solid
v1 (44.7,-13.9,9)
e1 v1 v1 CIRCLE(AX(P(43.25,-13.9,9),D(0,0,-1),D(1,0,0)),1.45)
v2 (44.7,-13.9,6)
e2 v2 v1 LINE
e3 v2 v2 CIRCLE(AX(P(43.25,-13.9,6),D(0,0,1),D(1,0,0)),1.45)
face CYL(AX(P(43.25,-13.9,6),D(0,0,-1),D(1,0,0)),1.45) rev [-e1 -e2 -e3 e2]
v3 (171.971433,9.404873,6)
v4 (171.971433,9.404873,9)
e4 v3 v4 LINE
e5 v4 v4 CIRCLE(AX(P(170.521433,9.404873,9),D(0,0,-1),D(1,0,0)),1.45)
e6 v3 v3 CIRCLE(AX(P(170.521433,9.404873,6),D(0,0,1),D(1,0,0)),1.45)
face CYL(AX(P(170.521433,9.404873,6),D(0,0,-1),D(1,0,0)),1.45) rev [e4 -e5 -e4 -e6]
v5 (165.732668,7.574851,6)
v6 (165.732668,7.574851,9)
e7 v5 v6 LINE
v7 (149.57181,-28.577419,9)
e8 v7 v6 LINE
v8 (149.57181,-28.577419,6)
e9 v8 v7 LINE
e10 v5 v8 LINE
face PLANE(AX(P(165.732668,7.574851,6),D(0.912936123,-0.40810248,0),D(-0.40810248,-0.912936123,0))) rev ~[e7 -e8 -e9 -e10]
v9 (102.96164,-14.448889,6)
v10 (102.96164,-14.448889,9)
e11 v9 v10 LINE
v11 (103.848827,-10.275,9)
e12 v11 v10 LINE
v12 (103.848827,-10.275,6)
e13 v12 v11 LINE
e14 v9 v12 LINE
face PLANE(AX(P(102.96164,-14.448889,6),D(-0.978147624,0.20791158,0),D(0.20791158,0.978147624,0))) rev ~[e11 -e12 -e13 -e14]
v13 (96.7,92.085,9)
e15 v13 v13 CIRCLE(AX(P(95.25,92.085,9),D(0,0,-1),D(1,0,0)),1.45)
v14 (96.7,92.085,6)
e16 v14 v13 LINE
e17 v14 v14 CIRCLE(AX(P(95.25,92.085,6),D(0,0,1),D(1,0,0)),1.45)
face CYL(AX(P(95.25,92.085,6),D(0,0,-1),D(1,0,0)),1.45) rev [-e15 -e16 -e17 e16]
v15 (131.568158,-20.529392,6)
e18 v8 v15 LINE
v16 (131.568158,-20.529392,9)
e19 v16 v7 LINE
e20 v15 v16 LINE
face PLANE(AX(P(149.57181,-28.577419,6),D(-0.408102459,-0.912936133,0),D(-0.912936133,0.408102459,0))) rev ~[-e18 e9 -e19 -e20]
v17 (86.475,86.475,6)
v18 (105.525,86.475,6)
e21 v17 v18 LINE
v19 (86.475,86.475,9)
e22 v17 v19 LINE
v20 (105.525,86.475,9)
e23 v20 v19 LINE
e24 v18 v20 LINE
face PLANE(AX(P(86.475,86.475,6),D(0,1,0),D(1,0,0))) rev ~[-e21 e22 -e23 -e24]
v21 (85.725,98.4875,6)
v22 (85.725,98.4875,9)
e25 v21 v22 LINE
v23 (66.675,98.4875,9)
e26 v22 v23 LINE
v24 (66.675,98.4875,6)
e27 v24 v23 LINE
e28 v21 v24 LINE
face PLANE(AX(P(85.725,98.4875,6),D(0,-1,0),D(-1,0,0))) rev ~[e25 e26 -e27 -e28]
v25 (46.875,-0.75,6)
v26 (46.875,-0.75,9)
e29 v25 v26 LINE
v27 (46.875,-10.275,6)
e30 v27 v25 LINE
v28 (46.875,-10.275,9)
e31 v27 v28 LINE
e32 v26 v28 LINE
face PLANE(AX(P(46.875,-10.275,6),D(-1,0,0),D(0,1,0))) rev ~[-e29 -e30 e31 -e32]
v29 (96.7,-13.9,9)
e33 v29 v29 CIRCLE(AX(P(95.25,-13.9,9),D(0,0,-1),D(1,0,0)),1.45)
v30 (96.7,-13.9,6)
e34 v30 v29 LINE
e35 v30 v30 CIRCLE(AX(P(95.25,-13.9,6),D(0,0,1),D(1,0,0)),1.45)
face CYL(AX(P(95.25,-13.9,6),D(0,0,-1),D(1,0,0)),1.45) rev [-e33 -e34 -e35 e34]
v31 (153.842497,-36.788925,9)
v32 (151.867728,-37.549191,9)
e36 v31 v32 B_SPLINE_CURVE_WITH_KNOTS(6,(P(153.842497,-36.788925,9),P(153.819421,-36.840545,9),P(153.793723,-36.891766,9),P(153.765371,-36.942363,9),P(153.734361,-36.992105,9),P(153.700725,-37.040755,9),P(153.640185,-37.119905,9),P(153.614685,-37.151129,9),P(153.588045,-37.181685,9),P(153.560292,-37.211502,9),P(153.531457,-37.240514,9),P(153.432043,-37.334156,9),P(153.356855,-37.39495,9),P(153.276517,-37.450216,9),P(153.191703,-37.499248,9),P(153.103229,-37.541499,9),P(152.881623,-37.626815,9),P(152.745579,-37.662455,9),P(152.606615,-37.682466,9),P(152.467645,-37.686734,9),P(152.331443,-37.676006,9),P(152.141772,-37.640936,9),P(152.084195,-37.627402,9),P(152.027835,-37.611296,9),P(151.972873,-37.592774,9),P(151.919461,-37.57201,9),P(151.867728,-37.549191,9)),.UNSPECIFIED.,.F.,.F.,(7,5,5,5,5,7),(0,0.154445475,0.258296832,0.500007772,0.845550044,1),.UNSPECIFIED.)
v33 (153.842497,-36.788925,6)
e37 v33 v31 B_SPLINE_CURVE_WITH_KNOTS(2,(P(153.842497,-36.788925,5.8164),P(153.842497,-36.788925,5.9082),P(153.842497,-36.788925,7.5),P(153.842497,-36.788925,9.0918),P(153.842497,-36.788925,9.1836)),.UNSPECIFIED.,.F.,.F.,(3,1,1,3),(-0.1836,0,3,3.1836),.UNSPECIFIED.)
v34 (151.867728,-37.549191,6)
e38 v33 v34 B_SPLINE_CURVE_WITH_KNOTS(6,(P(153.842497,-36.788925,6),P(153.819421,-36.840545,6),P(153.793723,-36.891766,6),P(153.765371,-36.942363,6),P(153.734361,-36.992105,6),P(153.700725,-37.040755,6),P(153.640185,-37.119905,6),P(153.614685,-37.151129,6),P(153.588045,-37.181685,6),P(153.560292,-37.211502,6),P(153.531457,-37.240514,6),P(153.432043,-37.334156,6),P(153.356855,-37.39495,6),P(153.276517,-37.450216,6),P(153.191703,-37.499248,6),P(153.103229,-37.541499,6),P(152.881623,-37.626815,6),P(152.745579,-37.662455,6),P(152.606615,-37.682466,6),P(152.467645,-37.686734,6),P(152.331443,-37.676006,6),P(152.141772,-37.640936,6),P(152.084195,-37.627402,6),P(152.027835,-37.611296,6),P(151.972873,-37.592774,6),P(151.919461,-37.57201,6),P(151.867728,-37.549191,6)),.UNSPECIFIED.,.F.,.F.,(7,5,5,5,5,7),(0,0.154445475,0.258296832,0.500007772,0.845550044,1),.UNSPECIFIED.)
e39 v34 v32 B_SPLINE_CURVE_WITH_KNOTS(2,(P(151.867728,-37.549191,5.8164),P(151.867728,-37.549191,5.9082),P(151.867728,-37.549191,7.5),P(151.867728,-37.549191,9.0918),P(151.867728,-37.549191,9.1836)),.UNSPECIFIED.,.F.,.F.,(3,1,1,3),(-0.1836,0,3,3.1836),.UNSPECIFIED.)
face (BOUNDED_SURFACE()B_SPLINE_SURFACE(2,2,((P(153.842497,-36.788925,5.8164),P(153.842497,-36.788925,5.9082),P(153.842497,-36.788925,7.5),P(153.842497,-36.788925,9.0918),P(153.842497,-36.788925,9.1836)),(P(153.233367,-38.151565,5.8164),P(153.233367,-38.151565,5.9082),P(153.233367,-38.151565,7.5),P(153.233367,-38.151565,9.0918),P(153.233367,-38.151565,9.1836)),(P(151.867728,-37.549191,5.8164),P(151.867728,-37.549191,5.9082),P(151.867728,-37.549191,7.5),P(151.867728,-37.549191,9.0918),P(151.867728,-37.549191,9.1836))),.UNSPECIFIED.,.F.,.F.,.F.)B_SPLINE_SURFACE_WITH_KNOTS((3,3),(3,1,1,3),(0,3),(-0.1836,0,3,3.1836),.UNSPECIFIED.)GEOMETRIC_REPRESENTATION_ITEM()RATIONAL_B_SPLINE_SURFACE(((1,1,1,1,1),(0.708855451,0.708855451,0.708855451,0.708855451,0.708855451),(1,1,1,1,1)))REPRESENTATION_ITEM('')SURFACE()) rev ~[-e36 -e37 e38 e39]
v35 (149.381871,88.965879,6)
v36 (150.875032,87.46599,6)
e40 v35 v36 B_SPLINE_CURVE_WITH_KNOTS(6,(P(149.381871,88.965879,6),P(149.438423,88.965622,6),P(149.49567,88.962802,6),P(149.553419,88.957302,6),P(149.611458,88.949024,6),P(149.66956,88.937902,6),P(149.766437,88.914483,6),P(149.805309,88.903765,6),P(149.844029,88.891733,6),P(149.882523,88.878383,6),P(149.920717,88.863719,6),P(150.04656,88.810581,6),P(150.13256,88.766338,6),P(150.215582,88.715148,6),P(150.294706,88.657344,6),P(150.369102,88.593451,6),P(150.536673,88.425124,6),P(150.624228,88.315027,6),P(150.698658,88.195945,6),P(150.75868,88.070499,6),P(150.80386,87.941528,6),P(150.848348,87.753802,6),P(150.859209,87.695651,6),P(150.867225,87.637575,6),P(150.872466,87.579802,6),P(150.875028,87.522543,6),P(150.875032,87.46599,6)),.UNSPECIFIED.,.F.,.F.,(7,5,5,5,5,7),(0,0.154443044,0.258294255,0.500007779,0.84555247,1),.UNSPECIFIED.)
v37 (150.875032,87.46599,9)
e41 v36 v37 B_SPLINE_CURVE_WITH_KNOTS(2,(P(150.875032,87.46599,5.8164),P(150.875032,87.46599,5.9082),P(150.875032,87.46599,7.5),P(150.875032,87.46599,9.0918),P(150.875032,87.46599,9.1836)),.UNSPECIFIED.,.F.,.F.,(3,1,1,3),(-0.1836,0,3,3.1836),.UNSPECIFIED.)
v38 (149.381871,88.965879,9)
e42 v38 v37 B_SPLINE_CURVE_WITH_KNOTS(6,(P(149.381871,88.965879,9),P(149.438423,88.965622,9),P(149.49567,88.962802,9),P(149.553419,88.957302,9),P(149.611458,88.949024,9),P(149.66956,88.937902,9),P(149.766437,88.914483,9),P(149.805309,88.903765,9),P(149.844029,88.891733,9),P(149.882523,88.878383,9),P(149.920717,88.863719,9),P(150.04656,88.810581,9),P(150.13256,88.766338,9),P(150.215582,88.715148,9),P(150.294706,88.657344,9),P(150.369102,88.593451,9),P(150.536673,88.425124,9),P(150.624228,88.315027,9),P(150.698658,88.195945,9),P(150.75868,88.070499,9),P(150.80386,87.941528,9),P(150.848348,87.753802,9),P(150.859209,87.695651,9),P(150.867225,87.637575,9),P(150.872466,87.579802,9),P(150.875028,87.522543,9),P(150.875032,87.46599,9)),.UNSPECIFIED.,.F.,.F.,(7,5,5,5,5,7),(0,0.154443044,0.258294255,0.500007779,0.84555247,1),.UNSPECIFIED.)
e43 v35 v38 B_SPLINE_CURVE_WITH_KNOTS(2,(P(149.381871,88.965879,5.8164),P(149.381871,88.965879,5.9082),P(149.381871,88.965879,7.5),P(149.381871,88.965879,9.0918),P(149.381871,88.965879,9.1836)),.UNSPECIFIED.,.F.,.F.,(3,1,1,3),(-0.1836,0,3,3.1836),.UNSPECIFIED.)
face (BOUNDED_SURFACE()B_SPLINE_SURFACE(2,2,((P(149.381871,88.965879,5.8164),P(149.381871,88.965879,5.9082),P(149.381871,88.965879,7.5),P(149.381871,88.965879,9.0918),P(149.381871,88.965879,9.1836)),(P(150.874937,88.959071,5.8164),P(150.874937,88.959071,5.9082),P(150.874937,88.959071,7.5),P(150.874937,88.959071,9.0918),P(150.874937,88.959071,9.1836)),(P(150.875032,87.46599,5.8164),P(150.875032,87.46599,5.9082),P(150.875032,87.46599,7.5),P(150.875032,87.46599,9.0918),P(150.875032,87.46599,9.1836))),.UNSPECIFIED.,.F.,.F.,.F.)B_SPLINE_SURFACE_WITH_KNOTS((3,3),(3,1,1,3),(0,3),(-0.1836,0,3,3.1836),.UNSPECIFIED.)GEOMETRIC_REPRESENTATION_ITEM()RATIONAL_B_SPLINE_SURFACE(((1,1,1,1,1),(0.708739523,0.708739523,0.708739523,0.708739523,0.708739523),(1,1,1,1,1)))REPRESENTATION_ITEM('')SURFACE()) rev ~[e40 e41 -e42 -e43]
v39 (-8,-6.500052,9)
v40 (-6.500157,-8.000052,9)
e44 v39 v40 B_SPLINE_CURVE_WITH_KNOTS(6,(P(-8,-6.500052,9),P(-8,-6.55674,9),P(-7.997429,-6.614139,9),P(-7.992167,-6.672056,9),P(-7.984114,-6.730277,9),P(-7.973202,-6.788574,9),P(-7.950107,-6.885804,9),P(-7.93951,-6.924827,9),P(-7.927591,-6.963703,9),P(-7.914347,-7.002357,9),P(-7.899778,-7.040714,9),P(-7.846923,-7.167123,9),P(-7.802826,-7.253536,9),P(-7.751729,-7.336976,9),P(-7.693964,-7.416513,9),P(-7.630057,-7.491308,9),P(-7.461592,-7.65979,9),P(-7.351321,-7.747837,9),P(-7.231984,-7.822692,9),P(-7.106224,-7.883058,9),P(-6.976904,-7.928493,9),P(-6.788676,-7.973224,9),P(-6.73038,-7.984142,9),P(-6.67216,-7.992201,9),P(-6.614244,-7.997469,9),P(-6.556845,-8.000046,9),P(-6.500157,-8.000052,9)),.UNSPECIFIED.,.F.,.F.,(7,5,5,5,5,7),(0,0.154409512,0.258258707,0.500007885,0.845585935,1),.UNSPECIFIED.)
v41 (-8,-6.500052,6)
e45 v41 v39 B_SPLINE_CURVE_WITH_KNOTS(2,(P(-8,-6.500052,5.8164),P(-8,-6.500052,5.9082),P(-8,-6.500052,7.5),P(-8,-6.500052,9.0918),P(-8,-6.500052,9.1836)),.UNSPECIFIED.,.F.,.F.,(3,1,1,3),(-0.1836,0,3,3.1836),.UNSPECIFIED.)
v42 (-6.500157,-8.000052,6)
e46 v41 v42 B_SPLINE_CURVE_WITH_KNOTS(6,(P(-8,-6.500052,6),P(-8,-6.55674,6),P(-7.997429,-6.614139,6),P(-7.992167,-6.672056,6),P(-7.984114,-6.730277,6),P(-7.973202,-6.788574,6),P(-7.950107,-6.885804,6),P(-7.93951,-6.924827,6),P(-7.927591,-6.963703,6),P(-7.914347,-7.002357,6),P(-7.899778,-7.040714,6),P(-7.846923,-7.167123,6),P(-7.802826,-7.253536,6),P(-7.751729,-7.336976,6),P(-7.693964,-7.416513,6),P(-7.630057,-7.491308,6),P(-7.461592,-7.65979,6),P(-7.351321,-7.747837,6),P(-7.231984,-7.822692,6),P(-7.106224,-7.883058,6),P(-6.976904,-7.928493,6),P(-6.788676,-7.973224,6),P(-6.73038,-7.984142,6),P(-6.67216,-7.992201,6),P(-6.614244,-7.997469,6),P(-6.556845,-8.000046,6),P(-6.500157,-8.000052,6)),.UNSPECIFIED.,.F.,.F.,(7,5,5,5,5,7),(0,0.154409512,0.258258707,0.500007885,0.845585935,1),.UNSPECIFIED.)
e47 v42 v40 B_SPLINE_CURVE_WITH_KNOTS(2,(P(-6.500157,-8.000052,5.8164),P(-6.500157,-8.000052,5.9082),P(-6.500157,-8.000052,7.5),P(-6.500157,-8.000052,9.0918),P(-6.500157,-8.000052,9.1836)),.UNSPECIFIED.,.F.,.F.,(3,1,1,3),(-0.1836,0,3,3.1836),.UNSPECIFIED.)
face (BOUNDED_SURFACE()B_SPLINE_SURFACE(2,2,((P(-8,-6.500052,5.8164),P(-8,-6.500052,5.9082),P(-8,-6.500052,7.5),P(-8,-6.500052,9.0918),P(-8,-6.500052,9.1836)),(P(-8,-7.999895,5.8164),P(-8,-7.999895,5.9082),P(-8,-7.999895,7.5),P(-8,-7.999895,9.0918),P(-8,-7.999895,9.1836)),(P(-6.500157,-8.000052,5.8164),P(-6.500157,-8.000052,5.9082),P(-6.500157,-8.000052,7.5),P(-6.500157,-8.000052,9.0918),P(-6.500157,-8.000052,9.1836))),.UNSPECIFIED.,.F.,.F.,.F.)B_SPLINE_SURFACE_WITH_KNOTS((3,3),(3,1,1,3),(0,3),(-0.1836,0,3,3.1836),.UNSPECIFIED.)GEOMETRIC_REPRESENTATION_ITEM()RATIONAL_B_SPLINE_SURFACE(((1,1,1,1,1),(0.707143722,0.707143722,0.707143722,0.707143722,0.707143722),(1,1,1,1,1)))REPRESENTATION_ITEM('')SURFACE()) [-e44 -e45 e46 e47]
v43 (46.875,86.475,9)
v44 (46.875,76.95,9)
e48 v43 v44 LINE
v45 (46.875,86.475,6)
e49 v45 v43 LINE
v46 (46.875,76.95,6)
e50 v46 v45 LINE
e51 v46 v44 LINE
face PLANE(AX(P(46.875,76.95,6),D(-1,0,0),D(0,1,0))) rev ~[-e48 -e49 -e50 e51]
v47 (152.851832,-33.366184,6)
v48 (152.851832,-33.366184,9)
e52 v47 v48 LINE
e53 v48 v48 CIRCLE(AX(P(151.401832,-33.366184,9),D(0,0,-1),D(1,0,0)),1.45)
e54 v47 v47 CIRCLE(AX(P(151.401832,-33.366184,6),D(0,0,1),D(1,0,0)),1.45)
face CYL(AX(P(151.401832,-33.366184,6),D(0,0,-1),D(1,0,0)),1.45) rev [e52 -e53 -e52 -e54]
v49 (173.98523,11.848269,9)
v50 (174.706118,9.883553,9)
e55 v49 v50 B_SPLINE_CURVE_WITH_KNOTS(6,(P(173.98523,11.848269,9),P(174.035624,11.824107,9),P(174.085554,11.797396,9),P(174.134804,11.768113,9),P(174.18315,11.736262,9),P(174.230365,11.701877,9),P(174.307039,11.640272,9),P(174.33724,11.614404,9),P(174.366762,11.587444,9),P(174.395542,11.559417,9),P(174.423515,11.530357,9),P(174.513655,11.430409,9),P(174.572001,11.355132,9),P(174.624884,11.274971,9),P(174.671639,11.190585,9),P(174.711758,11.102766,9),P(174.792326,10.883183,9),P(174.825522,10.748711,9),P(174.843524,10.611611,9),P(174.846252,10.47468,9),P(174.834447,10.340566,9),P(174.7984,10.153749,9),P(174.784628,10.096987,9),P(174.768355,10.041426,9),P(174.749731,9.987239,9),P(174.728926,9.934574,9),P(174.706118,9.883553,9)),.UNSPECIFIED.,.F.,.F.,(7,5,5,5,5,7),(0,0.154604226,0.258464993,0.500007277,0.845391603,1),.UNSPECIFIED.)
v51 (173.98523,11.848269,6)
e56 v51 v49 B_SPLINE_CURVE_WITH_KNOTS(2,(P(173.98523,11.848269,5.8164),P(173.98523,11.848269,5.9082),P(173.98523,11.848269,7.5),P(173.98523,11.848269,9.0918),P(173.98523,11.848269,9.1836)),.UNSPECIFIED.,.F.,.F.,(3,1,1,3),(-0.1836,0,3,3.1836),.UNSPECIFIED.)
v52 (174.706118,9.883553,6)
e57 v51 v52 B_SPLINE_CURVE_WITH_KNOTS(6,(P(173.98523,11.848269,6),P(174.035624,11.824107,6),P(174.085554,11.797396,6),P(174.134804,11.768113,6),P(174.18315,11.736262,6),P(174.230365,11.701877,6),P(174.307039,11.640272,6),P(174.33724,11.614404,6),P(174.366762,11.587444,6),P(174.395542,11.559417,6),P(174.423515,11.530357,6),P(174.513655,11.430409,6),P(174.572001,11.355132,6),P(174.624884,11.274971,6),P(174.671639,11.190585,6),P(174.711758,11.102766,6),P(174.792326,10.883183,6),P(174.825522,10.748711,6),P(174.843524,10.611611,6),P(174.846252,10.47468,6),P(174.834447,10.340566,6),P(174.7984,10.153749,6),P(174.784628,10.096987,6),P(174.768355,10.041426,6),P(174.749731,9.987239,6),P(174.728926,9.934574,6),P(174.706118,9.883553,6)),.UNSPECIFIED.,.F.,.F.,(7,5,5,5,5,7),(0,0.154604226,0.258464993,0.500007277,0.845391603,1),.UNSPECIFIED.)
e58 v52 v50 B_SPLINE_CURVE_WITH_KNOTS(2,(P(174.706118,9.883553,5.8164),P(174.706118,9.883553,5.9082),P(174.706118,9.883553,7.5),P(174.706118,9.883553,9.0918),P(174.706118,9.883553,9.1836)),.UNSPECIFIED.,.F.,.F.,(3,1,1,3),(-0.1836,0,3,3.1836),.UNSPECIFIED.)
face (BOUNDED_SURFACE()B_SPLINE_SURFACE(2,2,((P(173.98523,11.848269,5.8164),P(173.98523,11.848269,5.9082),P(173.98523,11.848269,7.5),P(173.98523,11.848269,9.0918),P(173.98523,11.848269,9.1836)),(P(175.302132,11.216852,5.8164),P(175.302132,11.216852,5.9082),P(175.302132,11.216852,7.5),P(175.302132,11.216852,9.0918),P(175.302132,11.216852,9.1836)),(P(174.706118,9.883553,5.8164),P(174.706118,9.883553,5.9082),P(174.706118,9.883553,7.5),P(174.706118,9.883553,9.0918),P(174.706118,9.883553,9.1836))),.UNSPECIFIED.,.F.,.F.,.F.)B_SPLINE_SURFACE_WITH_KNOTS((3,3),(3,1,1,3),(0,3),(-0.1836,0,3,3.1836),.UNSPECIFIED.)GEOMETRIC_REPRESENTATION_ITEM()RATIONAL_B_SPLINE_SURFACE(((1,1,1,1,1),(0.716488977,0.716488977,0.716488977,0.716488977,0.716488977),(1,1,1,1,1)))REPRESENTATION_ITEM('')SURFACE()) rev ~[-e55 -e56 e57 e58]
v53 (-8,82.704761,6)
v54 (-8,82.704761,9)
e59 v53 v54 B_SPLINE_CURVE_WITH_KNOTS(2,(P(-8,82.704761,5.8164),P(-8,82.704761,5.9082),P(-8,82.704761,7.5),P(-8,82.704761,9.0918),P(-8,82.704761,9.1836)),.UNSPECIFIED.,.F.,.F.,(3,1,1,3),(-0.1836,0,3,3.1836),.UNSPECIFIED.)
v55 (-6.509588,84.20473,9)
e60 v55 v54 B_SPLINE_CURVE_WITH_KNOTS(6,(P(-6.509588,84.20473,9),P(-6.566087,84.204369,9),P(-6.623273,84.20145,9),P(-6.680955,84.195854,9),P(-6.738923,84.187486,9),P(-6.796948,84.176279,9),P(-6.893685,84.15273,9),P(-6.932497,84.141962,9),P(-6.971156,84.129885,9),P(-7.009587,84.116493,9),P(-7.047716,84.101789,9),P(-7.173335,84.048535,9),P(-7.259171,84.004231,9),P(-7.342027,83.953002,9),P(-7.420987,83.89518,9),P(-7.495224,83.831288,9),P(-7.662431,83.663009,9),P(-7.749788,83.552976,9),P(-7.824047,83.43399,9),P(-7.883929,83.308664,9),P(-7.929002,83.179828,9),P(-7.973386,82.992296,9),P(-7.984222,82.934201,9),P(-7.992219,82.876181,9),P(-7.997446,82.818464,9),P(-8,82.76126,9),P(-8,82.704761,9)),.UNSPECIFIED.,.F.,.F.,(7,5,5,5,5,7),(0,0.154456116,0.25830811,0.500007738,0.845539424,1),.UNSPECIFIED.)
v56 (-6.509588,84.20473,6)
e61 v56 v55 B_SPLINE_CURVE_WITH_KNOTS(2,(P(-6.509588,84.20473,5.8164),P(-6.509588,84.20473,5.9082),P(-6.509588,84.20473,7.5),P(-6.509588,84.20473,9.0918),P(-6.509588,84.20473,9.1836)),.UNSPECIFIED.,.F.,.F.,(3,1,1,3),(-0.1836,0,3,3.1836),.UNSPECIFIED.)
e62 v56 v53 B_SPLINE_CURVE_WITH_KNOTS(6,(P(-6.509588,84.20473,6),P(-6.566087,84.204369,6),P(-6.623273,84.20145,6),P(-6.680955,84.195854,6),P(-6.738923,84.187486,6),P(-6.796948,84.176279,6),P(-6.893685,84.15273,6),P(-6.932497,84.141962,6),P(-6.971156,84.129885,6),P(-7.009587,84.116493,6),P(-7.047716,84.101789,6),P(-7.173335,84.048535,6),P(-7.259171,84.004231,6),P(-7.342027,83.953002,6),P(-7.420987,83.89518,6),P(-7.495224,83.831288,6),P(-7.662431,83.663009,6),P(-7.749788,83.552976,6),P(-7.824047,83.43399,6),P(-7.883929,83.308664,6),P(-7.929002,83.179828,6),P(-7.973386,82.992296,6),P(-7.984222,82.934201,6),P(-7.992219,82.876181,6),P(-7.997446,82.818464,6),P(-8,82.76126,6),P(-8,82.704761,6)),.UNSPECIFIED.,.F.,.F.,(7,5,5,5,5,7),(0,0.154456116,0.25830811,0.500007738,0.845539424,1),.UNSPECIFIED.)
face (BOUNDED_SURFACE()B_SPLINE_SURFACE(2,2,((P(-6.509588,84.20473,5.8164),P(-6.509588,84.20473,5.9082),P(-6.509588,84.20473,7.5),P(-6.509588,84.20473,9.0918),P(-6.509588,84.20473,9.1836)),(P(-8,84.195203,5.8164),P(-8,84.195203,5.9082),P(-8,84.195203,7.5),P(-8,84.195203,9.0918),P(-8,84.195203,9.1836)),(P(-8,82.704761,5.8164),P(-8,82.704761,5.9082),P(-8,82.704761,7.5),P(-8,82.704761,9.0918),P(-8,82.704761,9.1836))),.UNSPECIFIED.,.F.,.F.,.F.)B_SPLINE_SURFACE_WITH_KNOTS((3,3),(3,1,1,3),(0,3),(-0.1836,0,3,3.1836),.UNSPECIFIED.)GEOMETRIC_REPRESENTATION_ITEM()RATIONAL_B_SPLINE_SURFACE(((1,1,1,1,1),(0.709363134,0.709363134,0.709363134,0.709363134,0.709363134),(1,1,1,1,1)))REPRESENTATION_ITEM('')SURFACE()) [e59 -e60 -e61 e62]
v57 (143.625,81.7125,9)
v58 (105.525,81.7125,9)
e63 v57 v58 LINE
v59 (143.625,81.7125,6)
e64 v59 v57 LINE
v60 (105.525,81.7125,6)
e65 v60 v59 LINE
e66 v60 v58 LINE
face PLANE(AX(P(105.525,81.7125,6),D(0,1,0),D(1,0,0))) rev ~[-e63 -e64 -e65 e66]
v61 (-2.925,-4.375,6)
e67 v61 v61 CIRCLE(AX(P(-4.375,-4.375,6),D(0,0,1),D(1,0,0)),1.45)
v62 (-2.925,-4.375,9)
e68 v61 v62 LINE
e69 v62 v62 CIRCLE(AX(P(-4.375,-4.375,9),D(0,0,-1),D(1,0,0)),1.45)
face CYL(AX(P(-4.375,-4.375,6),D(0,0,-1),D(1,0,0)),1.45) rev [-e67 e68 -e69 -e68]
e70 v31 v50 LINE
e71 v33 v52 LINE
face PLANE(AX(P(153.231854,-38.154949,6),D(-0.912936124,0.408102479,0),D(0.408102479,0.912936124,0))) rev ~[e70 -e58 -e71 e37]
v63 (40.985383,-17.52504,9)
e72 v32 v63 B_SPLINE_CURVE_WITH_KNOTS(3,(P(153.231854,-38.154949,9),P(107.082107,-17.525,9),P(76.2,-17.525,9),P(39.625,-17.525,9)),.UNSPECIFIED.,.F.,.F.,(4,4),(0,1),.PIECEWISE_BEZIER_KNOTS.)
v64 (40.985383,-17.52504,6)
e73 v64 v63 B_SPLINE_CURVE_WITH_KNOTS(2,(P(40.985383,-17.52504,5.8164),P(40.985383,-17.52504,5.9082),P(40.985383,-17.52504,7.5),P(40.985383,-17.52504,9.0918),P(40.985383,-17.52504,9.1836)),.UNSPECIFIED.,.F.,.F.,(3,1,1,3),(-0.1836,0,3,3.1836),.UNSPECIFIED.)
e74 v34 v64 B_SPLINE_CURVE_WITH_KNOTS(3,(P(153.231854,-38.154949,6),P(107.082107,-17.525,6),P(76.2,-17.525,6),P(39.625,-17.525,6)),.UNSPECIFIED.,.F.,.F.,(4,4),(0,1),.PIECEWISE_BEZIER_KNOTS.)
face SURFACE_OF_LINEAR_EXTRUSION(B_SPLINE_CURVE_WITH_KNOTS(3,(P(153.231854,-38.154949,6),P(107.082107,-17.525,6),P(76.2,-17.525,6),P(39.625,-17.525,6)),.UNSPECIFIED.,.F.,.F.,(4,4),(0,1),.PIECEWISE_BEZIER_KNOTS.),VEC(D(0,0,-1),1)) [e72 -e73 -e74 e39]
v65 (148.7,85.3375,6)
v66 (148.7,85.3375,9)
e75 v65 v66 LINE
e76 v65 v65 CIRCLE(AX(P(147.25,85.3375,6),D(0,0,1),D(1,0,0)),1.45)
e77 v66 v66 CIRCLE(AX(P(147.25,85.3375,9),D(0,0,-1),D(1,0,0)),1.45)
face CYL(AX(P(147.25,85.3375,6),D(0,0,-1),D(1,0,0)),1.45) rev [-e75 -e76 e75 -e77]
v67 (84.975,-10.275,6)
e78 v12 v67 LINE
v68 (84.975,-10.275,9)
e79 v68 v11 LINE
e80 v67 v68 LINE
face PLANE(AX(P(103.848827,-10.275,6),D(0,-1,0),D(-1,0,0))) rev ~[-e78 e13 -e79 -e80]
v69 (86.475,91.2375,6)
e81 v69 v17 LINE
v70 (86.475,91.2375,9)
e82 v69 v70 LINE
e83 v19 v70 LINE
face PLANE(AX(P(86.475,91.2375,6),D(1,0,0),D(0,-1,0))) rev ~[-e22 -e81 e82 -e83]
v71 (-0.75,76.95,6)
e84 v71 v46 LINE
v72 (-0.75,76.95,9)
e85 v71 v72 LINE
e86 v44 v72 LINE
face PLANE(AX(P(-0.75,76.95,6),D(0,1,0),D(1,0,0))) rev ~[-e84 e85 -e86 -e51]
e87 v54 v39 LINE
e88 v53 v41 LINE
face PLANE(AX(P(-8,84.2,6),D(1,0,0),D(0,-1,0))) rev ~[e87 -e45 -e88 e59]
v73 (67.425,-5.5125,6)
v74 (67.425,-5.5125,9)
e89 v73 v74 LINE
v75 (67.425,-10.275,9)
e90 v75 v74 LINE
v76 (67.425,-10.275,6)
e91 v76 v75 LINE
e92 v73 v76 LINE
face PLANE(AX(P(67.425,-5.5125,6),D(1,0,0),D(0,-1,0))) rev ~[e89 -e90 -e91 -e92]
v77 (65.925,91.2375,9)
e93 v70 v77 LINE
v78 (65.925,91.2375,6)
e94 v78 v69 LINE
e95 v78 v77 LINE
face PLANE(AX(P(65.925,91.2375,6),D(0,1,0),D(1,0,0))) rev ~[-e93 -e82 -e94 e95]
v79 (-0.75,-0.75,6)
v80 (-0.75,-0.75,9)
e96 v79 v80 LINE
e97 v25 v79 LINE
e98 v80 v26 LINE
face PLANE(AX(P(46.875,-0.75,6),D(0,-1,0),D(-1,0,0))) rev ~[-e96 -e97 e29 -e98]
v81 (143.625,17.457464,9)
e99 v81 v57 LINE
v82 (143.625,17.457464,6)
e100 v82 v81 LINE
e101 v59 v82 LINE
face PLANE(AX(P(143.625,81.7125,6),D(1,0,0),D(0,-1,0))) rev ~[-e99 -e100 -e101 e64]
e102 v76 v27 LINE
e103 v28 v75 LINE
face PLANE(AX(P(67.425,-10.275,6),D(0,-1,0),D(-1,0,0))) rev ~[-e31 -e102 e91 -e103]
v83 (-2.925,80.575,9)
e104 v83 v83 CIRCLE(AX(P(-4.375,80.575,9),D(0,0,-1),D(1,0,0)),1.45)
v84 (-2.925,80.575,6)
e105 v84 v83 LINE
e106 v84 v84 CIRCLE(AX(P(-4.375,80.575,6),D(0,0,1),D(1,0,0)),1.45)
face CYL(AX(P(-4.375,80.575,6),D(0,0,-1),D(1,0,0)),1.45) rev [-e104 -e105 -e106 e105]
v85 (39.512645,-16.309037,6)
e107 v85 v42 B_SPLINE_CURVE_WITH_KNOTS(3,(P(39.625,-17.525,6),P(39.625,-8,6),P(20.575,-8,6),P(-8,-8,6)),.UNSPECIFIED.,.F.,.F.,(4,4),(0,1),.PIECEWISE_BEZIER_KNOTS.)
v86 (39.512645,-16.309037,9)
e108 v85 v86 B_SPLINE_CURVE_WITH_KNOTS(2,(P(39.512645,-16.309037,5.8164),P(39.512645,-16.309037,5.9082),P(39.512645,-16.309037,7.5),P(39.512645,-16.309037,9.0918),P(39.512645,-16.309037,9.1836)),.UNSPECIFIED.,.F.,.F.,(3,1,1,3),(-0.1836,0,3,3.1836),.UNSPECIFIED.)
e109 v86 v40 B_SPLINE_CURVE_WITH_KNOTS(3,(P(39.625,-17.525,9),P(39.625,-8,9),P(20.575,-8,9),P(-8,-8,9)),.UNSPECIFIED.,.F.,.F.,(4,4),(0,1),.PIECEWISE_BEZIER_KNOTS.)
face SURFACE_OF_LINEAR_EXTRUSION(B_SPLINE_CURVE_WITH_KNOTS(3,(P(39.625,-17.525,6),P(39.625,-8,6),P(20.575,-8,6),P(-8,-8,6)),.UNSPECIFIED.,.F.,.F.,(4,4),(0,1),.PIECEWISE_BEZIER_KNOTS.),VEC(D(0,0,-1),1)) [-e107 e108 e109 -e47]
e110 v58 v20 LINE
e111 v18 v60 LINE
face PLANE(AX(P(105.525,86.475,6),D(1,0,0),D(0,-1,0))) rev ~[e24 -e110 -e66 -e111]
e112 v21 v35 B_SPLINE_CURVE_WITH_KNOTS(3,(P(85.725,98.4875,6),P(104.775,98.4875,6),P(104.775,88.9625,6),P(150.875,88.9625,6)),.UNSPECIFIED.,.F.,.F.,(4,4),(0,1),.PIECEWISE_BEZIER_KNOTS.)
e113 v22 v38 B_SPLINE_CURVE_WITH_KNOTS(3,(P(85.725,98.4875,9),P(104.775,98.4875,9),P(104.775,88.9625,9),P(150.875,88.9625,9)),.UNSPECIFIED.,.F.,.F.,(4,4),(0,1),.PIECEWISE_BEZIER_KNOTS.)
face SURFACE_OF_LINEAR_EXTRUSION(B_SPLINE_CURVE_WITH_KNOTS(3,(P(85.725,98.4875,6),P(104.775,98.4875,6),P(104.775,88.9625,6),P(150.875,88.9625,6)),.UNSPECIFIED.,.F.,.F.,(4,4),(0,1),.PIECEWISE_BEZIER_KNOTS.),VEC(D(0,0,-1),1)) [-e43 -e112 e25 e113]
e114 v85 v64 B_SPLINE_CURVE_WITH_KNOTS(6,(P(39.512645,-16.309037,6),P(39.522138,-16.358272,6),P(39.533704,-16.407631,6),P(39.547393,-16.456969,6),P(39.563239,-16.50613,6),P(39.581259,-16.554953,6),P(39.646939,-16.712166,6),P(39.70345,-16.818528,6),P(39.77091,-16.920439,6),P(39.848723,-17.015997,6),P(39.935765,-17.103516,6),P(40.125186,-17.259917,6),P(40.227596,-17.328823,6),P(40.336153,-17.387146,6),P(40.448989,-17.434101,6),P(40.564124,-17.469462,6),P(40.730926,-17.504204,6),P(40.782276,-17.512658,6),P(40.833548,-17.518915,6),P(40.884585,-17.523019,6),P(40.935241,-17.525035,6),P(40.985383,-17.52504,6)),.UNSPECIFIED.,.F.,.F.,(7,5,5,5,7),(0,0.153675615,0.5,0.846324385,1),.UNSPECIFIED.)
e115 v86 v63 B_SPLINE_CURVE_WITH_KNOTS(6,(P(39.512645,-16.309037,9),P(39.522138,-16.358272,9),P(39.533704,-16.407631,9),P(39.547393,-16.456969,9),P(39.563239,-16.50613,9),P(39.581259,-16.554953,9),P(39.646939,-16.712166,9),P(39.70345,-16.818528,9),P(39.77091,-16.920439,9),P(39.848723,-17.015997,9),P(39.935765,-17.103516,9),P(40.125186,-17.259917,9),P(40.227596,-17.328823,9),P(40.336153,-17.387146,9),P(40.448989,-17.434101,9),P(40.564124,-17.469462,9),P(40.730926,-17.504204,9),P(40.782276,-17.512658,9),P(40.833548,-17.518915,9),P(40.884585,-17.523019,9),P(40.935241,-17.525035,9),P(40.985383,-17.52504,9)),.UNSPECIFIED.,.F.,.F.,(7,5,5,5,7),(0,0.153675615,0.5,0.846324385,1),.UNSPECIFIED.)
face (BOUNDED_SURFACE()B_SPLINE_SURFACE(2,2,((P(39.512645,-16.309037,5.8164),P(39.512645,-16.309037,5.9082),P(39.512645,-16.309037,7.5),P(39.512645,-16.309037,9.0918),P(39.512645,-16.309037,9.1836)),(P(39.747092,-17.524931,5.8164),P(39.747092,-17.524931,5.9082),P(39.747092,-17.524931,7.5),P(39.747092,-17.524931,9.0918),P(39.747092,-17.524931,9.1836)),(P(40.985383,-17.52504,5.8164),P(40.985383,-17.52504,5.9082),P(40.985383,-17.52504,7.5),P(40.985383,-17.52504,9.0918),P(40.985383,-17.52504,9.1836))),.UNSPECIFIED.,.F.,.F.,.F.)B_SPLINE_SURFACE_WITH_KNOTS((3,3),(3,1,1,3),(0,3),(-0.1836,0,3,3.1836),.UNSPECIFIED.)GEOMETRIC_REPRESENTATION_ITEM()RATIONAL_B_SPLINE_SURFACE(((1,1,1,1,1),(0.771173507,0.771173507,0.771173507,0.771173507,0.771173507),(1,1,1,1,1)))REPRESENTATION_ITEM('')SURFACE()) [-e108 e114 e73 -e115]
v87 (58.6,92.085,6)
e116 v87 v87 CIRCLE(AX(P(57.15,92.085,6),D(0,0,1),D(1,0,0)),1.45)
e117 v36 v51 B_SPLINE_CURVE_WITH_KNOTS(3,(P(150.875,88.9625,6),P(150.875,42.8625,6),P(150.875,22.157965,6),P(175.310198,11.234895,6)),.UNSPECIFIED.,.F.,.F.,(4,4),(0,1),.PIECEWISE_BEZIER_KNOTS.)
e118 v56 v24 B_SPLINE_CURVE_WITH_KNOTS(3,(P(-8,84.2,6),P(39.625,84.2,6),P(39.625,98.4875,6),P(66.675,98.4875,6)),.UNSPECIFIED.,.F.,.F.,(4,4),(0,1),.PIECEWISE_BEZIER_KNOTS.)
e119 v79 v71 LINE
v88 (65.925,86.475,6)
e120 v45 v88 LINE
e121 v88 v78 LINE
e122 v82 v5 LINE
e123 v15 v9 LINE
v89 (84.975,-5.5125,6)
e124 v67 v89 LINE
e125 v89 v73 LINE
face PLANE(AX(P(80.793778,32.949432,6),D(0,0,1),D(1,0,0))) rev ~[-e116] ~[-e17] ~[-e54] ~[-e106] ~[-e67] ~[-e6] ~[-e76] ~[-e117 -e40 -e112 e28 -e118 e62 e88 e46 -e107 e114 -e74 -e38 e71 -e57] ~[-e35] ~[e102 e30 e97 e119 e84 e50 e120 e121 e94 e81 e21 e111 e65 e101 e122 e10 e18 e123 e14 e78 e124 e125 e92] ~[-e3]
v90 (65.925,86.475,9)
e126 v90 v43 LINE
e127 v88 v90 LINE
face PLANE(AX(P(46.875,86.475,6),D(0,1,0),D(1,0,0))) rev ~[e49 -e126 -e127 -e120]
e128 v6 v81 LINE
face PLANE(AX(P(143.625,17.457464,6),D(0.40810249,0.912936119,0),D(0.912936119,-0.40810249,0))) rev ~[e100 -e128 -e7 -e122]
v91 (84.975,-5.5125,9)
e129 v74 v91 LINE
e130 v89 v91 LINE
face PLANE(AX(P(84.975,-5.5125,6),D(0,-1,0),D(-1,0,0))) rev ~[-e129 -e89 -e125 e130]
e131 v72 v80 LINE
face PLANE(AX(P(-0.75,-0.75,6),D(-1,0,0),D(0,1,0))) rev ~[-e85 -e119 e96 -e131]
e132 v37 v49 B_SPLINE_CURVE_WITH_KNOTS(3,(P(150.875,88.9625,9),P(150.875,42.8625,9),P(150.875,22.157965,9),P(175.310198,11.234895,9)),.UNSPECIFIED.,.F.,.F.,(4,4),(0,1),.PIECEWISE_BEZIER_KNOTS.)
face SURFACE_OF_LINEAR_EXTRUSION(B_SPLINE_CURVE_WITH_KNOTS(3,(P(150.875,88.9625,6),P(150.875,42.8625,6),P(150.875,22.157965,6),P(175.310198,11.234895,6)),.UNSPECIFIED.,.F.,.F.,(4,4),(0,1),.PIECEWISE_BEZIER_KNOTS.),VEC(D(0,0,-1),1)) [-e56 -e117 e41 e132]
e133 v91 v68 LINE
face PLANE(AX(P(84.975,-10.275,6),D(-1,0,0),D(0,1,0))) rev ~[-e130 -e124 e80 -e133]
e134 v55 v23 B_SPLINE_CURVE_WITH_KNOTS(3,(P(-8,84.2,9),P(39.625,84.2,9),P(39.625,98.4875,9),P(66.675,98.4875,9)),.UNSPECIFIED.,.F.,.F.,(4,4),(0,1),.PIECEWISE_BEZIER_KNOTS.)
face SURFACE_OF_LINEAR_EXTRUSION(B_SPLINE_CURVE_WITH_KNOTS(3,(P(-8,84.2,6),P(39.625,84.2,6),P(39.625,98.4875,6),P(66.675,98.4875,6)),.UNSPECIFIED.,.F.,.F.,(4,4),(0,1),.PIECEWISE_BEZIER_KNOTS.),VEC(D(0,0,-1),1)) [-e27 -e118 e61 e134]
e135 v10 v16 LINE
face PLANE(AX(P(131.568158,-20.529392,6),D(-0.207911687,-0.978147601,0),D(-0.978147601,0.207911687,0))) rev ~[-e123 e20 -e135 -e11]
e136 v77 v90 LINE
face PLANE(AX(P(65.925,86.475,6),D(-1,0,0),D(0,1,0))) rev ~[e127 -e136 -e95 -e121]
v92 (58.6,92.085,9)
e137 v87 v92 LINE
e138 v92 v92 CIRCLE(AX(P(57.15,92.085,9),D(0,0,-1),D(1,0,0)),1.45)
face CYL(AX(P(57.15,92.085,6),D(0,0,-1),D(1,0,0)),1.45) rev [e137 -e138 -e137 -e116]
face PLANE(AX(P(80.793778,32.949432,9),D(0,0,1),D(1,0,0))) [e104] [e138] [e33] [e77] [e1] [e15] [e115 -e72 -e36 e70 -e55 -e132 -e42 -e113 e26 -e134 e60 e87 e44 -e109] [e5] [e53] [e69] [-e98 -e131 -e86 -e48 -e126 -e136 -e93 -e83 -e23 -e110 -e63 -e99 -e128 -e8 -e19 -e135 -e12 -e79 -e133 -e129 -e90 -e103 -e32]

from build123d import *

# Parameters (mm, degrees)
PAD004_DEPTH    = 3
POCKET007_DEPTH = 5
SKETCH037_R     = 1.45
POCKET021_DEPTH = 9
FILLET002_R     = 1.5


with BuildPart() as part:
    # Sketch021 → Pad004 (new body)
    with BuildSketch(Plane.XY):
        with BuildLine():
            Line((85.725, 98.4875), (66.675, 98.4875))
            add(Edge.make_bspline(
                [(-8, 84.2), (39.625, 84.2), (39.625, 98.4875), (66.675, 98.4875)],
                knots=[0, 0, 0, 0, 1, 1, 1, 1], degree=3))
            Line((-8, 84.2), (-8, -8))
            add(Edge.make_bspline(
                [(39.625, -17.525), (39.625, -8), (20.575, -8), (-8, -8)],
                knots=[0, 0, 0, 0, 1, 1, 1, 1], degree=3))
            add(Edge.make_bspline(
                [(153.231854, -38.154949), (107.082107, -17.525), (76.2, -17.525), (39.625, -17.525)],
                knots=[0, 0, 0, 0, 1, 1, 1, 1], degree=3))
            Line((153.231854, -38.154949), (175.310198, 11.234895))
            add(Edge.make_bspline(
                [(150.875, 88.9625), (150.875, 42.8625), (150.875, 22.157965), (175.310198, 11.234895)],
                knots=[0, 0, 0, 0, 1, 1, 1, 1], degree=3))
            add(Edge.make_bspline(
                [(85.725, 98.4875), (104.775, 98.4875), (104.775, 88.9625), (150.875, 88.9625)],
                knots=[0, 0, 0, 0, 1, 1, 1, 1], degree=3))
        make_face()
    extrude(amount=PAD004_DEPTH)

    # Sketch023 → Pocket007 (cut)
    with BuildSketch(Plane(origin=(0, 0, 0), x_dir=(1, 0, 0), z_dir=(0, 0, -1))):
        Polygon((-0.75, 0.75), (-0.75, -76.95), (46.875, -76.95), (46.875, -86.475), (65.925, -86.475), (65.925, -91.2375), (86.475, -91.2375), (86.475, -86.475), (105.525, -86.475), (105.525, -81.7125), (143.625, -81.7125), (143.625, -17.457464), (165.732668, -7.574851), (149.57181, 28.577419), (131.568158, 20.529392), (102.96164, 14.448889), (103.848827, 10.275), (84.975, 10.275), (84.975, 5.5125), (67.425, 5.5125), (67.425, 10.275), (46.875, 10.275), (46.875, 0.75), align=None)
    extrude(amount=-POCKET007_DEPTH, mode=Mode.SUBTRACT)

    # Sketch037 → Pocket021 (cut)
    with BuildSketch(Plane.XY):
        with Locations((-4.375, -4.375)):
            Circle(SKETCH037_R)
        with Locations((-4.375, 80.575)):
            Circle(SKETCH037_R)
        with Locations((151.401832, -33.366184)):
            Circle(SKETCH037_R)
        with Locations((170.521433, 9.404873)):
            Circle(SKETCH037_R)
        with Locations((147.25, 85.3375)):
            Circle(SKETCH037_R)
        with Locations((43.25, -13.9)):
            Circle(SKETCH037_R)
        with Locations((57.15, 92.085)):
            Circle(SKETCH037_R)
        with Locations((95.25, 92.085)):
            Circle(SKETCH037_R)
        with Locations((95.25, -13.9)):
            Circle(SKETCH037_R)
    extrude(amount=POCKET021_DEPTH, mode=Mode.SUBTRACT)

    # Fillet002
    fillet002_edges = [part.edges().sort_by_distance(p)[0] for p in [
        (-8, -8, 1.5),
        (-8, 84.2, 1.5),
        (150.875, 88.9625, 1.5),
        (175.310198, 11.234895, 1.5),
        (153.231854, -38.154949, 1.5),
        (39.625, -17.525, 1.5),
    ]]
    fillet(fillet002_edges, radius=FILLET002_R)


with BuildPart() as part_1:
    # Body003 placement: moved
    add(part.part.moved(Location((0, 0, 6))))


solid = part_1.part
